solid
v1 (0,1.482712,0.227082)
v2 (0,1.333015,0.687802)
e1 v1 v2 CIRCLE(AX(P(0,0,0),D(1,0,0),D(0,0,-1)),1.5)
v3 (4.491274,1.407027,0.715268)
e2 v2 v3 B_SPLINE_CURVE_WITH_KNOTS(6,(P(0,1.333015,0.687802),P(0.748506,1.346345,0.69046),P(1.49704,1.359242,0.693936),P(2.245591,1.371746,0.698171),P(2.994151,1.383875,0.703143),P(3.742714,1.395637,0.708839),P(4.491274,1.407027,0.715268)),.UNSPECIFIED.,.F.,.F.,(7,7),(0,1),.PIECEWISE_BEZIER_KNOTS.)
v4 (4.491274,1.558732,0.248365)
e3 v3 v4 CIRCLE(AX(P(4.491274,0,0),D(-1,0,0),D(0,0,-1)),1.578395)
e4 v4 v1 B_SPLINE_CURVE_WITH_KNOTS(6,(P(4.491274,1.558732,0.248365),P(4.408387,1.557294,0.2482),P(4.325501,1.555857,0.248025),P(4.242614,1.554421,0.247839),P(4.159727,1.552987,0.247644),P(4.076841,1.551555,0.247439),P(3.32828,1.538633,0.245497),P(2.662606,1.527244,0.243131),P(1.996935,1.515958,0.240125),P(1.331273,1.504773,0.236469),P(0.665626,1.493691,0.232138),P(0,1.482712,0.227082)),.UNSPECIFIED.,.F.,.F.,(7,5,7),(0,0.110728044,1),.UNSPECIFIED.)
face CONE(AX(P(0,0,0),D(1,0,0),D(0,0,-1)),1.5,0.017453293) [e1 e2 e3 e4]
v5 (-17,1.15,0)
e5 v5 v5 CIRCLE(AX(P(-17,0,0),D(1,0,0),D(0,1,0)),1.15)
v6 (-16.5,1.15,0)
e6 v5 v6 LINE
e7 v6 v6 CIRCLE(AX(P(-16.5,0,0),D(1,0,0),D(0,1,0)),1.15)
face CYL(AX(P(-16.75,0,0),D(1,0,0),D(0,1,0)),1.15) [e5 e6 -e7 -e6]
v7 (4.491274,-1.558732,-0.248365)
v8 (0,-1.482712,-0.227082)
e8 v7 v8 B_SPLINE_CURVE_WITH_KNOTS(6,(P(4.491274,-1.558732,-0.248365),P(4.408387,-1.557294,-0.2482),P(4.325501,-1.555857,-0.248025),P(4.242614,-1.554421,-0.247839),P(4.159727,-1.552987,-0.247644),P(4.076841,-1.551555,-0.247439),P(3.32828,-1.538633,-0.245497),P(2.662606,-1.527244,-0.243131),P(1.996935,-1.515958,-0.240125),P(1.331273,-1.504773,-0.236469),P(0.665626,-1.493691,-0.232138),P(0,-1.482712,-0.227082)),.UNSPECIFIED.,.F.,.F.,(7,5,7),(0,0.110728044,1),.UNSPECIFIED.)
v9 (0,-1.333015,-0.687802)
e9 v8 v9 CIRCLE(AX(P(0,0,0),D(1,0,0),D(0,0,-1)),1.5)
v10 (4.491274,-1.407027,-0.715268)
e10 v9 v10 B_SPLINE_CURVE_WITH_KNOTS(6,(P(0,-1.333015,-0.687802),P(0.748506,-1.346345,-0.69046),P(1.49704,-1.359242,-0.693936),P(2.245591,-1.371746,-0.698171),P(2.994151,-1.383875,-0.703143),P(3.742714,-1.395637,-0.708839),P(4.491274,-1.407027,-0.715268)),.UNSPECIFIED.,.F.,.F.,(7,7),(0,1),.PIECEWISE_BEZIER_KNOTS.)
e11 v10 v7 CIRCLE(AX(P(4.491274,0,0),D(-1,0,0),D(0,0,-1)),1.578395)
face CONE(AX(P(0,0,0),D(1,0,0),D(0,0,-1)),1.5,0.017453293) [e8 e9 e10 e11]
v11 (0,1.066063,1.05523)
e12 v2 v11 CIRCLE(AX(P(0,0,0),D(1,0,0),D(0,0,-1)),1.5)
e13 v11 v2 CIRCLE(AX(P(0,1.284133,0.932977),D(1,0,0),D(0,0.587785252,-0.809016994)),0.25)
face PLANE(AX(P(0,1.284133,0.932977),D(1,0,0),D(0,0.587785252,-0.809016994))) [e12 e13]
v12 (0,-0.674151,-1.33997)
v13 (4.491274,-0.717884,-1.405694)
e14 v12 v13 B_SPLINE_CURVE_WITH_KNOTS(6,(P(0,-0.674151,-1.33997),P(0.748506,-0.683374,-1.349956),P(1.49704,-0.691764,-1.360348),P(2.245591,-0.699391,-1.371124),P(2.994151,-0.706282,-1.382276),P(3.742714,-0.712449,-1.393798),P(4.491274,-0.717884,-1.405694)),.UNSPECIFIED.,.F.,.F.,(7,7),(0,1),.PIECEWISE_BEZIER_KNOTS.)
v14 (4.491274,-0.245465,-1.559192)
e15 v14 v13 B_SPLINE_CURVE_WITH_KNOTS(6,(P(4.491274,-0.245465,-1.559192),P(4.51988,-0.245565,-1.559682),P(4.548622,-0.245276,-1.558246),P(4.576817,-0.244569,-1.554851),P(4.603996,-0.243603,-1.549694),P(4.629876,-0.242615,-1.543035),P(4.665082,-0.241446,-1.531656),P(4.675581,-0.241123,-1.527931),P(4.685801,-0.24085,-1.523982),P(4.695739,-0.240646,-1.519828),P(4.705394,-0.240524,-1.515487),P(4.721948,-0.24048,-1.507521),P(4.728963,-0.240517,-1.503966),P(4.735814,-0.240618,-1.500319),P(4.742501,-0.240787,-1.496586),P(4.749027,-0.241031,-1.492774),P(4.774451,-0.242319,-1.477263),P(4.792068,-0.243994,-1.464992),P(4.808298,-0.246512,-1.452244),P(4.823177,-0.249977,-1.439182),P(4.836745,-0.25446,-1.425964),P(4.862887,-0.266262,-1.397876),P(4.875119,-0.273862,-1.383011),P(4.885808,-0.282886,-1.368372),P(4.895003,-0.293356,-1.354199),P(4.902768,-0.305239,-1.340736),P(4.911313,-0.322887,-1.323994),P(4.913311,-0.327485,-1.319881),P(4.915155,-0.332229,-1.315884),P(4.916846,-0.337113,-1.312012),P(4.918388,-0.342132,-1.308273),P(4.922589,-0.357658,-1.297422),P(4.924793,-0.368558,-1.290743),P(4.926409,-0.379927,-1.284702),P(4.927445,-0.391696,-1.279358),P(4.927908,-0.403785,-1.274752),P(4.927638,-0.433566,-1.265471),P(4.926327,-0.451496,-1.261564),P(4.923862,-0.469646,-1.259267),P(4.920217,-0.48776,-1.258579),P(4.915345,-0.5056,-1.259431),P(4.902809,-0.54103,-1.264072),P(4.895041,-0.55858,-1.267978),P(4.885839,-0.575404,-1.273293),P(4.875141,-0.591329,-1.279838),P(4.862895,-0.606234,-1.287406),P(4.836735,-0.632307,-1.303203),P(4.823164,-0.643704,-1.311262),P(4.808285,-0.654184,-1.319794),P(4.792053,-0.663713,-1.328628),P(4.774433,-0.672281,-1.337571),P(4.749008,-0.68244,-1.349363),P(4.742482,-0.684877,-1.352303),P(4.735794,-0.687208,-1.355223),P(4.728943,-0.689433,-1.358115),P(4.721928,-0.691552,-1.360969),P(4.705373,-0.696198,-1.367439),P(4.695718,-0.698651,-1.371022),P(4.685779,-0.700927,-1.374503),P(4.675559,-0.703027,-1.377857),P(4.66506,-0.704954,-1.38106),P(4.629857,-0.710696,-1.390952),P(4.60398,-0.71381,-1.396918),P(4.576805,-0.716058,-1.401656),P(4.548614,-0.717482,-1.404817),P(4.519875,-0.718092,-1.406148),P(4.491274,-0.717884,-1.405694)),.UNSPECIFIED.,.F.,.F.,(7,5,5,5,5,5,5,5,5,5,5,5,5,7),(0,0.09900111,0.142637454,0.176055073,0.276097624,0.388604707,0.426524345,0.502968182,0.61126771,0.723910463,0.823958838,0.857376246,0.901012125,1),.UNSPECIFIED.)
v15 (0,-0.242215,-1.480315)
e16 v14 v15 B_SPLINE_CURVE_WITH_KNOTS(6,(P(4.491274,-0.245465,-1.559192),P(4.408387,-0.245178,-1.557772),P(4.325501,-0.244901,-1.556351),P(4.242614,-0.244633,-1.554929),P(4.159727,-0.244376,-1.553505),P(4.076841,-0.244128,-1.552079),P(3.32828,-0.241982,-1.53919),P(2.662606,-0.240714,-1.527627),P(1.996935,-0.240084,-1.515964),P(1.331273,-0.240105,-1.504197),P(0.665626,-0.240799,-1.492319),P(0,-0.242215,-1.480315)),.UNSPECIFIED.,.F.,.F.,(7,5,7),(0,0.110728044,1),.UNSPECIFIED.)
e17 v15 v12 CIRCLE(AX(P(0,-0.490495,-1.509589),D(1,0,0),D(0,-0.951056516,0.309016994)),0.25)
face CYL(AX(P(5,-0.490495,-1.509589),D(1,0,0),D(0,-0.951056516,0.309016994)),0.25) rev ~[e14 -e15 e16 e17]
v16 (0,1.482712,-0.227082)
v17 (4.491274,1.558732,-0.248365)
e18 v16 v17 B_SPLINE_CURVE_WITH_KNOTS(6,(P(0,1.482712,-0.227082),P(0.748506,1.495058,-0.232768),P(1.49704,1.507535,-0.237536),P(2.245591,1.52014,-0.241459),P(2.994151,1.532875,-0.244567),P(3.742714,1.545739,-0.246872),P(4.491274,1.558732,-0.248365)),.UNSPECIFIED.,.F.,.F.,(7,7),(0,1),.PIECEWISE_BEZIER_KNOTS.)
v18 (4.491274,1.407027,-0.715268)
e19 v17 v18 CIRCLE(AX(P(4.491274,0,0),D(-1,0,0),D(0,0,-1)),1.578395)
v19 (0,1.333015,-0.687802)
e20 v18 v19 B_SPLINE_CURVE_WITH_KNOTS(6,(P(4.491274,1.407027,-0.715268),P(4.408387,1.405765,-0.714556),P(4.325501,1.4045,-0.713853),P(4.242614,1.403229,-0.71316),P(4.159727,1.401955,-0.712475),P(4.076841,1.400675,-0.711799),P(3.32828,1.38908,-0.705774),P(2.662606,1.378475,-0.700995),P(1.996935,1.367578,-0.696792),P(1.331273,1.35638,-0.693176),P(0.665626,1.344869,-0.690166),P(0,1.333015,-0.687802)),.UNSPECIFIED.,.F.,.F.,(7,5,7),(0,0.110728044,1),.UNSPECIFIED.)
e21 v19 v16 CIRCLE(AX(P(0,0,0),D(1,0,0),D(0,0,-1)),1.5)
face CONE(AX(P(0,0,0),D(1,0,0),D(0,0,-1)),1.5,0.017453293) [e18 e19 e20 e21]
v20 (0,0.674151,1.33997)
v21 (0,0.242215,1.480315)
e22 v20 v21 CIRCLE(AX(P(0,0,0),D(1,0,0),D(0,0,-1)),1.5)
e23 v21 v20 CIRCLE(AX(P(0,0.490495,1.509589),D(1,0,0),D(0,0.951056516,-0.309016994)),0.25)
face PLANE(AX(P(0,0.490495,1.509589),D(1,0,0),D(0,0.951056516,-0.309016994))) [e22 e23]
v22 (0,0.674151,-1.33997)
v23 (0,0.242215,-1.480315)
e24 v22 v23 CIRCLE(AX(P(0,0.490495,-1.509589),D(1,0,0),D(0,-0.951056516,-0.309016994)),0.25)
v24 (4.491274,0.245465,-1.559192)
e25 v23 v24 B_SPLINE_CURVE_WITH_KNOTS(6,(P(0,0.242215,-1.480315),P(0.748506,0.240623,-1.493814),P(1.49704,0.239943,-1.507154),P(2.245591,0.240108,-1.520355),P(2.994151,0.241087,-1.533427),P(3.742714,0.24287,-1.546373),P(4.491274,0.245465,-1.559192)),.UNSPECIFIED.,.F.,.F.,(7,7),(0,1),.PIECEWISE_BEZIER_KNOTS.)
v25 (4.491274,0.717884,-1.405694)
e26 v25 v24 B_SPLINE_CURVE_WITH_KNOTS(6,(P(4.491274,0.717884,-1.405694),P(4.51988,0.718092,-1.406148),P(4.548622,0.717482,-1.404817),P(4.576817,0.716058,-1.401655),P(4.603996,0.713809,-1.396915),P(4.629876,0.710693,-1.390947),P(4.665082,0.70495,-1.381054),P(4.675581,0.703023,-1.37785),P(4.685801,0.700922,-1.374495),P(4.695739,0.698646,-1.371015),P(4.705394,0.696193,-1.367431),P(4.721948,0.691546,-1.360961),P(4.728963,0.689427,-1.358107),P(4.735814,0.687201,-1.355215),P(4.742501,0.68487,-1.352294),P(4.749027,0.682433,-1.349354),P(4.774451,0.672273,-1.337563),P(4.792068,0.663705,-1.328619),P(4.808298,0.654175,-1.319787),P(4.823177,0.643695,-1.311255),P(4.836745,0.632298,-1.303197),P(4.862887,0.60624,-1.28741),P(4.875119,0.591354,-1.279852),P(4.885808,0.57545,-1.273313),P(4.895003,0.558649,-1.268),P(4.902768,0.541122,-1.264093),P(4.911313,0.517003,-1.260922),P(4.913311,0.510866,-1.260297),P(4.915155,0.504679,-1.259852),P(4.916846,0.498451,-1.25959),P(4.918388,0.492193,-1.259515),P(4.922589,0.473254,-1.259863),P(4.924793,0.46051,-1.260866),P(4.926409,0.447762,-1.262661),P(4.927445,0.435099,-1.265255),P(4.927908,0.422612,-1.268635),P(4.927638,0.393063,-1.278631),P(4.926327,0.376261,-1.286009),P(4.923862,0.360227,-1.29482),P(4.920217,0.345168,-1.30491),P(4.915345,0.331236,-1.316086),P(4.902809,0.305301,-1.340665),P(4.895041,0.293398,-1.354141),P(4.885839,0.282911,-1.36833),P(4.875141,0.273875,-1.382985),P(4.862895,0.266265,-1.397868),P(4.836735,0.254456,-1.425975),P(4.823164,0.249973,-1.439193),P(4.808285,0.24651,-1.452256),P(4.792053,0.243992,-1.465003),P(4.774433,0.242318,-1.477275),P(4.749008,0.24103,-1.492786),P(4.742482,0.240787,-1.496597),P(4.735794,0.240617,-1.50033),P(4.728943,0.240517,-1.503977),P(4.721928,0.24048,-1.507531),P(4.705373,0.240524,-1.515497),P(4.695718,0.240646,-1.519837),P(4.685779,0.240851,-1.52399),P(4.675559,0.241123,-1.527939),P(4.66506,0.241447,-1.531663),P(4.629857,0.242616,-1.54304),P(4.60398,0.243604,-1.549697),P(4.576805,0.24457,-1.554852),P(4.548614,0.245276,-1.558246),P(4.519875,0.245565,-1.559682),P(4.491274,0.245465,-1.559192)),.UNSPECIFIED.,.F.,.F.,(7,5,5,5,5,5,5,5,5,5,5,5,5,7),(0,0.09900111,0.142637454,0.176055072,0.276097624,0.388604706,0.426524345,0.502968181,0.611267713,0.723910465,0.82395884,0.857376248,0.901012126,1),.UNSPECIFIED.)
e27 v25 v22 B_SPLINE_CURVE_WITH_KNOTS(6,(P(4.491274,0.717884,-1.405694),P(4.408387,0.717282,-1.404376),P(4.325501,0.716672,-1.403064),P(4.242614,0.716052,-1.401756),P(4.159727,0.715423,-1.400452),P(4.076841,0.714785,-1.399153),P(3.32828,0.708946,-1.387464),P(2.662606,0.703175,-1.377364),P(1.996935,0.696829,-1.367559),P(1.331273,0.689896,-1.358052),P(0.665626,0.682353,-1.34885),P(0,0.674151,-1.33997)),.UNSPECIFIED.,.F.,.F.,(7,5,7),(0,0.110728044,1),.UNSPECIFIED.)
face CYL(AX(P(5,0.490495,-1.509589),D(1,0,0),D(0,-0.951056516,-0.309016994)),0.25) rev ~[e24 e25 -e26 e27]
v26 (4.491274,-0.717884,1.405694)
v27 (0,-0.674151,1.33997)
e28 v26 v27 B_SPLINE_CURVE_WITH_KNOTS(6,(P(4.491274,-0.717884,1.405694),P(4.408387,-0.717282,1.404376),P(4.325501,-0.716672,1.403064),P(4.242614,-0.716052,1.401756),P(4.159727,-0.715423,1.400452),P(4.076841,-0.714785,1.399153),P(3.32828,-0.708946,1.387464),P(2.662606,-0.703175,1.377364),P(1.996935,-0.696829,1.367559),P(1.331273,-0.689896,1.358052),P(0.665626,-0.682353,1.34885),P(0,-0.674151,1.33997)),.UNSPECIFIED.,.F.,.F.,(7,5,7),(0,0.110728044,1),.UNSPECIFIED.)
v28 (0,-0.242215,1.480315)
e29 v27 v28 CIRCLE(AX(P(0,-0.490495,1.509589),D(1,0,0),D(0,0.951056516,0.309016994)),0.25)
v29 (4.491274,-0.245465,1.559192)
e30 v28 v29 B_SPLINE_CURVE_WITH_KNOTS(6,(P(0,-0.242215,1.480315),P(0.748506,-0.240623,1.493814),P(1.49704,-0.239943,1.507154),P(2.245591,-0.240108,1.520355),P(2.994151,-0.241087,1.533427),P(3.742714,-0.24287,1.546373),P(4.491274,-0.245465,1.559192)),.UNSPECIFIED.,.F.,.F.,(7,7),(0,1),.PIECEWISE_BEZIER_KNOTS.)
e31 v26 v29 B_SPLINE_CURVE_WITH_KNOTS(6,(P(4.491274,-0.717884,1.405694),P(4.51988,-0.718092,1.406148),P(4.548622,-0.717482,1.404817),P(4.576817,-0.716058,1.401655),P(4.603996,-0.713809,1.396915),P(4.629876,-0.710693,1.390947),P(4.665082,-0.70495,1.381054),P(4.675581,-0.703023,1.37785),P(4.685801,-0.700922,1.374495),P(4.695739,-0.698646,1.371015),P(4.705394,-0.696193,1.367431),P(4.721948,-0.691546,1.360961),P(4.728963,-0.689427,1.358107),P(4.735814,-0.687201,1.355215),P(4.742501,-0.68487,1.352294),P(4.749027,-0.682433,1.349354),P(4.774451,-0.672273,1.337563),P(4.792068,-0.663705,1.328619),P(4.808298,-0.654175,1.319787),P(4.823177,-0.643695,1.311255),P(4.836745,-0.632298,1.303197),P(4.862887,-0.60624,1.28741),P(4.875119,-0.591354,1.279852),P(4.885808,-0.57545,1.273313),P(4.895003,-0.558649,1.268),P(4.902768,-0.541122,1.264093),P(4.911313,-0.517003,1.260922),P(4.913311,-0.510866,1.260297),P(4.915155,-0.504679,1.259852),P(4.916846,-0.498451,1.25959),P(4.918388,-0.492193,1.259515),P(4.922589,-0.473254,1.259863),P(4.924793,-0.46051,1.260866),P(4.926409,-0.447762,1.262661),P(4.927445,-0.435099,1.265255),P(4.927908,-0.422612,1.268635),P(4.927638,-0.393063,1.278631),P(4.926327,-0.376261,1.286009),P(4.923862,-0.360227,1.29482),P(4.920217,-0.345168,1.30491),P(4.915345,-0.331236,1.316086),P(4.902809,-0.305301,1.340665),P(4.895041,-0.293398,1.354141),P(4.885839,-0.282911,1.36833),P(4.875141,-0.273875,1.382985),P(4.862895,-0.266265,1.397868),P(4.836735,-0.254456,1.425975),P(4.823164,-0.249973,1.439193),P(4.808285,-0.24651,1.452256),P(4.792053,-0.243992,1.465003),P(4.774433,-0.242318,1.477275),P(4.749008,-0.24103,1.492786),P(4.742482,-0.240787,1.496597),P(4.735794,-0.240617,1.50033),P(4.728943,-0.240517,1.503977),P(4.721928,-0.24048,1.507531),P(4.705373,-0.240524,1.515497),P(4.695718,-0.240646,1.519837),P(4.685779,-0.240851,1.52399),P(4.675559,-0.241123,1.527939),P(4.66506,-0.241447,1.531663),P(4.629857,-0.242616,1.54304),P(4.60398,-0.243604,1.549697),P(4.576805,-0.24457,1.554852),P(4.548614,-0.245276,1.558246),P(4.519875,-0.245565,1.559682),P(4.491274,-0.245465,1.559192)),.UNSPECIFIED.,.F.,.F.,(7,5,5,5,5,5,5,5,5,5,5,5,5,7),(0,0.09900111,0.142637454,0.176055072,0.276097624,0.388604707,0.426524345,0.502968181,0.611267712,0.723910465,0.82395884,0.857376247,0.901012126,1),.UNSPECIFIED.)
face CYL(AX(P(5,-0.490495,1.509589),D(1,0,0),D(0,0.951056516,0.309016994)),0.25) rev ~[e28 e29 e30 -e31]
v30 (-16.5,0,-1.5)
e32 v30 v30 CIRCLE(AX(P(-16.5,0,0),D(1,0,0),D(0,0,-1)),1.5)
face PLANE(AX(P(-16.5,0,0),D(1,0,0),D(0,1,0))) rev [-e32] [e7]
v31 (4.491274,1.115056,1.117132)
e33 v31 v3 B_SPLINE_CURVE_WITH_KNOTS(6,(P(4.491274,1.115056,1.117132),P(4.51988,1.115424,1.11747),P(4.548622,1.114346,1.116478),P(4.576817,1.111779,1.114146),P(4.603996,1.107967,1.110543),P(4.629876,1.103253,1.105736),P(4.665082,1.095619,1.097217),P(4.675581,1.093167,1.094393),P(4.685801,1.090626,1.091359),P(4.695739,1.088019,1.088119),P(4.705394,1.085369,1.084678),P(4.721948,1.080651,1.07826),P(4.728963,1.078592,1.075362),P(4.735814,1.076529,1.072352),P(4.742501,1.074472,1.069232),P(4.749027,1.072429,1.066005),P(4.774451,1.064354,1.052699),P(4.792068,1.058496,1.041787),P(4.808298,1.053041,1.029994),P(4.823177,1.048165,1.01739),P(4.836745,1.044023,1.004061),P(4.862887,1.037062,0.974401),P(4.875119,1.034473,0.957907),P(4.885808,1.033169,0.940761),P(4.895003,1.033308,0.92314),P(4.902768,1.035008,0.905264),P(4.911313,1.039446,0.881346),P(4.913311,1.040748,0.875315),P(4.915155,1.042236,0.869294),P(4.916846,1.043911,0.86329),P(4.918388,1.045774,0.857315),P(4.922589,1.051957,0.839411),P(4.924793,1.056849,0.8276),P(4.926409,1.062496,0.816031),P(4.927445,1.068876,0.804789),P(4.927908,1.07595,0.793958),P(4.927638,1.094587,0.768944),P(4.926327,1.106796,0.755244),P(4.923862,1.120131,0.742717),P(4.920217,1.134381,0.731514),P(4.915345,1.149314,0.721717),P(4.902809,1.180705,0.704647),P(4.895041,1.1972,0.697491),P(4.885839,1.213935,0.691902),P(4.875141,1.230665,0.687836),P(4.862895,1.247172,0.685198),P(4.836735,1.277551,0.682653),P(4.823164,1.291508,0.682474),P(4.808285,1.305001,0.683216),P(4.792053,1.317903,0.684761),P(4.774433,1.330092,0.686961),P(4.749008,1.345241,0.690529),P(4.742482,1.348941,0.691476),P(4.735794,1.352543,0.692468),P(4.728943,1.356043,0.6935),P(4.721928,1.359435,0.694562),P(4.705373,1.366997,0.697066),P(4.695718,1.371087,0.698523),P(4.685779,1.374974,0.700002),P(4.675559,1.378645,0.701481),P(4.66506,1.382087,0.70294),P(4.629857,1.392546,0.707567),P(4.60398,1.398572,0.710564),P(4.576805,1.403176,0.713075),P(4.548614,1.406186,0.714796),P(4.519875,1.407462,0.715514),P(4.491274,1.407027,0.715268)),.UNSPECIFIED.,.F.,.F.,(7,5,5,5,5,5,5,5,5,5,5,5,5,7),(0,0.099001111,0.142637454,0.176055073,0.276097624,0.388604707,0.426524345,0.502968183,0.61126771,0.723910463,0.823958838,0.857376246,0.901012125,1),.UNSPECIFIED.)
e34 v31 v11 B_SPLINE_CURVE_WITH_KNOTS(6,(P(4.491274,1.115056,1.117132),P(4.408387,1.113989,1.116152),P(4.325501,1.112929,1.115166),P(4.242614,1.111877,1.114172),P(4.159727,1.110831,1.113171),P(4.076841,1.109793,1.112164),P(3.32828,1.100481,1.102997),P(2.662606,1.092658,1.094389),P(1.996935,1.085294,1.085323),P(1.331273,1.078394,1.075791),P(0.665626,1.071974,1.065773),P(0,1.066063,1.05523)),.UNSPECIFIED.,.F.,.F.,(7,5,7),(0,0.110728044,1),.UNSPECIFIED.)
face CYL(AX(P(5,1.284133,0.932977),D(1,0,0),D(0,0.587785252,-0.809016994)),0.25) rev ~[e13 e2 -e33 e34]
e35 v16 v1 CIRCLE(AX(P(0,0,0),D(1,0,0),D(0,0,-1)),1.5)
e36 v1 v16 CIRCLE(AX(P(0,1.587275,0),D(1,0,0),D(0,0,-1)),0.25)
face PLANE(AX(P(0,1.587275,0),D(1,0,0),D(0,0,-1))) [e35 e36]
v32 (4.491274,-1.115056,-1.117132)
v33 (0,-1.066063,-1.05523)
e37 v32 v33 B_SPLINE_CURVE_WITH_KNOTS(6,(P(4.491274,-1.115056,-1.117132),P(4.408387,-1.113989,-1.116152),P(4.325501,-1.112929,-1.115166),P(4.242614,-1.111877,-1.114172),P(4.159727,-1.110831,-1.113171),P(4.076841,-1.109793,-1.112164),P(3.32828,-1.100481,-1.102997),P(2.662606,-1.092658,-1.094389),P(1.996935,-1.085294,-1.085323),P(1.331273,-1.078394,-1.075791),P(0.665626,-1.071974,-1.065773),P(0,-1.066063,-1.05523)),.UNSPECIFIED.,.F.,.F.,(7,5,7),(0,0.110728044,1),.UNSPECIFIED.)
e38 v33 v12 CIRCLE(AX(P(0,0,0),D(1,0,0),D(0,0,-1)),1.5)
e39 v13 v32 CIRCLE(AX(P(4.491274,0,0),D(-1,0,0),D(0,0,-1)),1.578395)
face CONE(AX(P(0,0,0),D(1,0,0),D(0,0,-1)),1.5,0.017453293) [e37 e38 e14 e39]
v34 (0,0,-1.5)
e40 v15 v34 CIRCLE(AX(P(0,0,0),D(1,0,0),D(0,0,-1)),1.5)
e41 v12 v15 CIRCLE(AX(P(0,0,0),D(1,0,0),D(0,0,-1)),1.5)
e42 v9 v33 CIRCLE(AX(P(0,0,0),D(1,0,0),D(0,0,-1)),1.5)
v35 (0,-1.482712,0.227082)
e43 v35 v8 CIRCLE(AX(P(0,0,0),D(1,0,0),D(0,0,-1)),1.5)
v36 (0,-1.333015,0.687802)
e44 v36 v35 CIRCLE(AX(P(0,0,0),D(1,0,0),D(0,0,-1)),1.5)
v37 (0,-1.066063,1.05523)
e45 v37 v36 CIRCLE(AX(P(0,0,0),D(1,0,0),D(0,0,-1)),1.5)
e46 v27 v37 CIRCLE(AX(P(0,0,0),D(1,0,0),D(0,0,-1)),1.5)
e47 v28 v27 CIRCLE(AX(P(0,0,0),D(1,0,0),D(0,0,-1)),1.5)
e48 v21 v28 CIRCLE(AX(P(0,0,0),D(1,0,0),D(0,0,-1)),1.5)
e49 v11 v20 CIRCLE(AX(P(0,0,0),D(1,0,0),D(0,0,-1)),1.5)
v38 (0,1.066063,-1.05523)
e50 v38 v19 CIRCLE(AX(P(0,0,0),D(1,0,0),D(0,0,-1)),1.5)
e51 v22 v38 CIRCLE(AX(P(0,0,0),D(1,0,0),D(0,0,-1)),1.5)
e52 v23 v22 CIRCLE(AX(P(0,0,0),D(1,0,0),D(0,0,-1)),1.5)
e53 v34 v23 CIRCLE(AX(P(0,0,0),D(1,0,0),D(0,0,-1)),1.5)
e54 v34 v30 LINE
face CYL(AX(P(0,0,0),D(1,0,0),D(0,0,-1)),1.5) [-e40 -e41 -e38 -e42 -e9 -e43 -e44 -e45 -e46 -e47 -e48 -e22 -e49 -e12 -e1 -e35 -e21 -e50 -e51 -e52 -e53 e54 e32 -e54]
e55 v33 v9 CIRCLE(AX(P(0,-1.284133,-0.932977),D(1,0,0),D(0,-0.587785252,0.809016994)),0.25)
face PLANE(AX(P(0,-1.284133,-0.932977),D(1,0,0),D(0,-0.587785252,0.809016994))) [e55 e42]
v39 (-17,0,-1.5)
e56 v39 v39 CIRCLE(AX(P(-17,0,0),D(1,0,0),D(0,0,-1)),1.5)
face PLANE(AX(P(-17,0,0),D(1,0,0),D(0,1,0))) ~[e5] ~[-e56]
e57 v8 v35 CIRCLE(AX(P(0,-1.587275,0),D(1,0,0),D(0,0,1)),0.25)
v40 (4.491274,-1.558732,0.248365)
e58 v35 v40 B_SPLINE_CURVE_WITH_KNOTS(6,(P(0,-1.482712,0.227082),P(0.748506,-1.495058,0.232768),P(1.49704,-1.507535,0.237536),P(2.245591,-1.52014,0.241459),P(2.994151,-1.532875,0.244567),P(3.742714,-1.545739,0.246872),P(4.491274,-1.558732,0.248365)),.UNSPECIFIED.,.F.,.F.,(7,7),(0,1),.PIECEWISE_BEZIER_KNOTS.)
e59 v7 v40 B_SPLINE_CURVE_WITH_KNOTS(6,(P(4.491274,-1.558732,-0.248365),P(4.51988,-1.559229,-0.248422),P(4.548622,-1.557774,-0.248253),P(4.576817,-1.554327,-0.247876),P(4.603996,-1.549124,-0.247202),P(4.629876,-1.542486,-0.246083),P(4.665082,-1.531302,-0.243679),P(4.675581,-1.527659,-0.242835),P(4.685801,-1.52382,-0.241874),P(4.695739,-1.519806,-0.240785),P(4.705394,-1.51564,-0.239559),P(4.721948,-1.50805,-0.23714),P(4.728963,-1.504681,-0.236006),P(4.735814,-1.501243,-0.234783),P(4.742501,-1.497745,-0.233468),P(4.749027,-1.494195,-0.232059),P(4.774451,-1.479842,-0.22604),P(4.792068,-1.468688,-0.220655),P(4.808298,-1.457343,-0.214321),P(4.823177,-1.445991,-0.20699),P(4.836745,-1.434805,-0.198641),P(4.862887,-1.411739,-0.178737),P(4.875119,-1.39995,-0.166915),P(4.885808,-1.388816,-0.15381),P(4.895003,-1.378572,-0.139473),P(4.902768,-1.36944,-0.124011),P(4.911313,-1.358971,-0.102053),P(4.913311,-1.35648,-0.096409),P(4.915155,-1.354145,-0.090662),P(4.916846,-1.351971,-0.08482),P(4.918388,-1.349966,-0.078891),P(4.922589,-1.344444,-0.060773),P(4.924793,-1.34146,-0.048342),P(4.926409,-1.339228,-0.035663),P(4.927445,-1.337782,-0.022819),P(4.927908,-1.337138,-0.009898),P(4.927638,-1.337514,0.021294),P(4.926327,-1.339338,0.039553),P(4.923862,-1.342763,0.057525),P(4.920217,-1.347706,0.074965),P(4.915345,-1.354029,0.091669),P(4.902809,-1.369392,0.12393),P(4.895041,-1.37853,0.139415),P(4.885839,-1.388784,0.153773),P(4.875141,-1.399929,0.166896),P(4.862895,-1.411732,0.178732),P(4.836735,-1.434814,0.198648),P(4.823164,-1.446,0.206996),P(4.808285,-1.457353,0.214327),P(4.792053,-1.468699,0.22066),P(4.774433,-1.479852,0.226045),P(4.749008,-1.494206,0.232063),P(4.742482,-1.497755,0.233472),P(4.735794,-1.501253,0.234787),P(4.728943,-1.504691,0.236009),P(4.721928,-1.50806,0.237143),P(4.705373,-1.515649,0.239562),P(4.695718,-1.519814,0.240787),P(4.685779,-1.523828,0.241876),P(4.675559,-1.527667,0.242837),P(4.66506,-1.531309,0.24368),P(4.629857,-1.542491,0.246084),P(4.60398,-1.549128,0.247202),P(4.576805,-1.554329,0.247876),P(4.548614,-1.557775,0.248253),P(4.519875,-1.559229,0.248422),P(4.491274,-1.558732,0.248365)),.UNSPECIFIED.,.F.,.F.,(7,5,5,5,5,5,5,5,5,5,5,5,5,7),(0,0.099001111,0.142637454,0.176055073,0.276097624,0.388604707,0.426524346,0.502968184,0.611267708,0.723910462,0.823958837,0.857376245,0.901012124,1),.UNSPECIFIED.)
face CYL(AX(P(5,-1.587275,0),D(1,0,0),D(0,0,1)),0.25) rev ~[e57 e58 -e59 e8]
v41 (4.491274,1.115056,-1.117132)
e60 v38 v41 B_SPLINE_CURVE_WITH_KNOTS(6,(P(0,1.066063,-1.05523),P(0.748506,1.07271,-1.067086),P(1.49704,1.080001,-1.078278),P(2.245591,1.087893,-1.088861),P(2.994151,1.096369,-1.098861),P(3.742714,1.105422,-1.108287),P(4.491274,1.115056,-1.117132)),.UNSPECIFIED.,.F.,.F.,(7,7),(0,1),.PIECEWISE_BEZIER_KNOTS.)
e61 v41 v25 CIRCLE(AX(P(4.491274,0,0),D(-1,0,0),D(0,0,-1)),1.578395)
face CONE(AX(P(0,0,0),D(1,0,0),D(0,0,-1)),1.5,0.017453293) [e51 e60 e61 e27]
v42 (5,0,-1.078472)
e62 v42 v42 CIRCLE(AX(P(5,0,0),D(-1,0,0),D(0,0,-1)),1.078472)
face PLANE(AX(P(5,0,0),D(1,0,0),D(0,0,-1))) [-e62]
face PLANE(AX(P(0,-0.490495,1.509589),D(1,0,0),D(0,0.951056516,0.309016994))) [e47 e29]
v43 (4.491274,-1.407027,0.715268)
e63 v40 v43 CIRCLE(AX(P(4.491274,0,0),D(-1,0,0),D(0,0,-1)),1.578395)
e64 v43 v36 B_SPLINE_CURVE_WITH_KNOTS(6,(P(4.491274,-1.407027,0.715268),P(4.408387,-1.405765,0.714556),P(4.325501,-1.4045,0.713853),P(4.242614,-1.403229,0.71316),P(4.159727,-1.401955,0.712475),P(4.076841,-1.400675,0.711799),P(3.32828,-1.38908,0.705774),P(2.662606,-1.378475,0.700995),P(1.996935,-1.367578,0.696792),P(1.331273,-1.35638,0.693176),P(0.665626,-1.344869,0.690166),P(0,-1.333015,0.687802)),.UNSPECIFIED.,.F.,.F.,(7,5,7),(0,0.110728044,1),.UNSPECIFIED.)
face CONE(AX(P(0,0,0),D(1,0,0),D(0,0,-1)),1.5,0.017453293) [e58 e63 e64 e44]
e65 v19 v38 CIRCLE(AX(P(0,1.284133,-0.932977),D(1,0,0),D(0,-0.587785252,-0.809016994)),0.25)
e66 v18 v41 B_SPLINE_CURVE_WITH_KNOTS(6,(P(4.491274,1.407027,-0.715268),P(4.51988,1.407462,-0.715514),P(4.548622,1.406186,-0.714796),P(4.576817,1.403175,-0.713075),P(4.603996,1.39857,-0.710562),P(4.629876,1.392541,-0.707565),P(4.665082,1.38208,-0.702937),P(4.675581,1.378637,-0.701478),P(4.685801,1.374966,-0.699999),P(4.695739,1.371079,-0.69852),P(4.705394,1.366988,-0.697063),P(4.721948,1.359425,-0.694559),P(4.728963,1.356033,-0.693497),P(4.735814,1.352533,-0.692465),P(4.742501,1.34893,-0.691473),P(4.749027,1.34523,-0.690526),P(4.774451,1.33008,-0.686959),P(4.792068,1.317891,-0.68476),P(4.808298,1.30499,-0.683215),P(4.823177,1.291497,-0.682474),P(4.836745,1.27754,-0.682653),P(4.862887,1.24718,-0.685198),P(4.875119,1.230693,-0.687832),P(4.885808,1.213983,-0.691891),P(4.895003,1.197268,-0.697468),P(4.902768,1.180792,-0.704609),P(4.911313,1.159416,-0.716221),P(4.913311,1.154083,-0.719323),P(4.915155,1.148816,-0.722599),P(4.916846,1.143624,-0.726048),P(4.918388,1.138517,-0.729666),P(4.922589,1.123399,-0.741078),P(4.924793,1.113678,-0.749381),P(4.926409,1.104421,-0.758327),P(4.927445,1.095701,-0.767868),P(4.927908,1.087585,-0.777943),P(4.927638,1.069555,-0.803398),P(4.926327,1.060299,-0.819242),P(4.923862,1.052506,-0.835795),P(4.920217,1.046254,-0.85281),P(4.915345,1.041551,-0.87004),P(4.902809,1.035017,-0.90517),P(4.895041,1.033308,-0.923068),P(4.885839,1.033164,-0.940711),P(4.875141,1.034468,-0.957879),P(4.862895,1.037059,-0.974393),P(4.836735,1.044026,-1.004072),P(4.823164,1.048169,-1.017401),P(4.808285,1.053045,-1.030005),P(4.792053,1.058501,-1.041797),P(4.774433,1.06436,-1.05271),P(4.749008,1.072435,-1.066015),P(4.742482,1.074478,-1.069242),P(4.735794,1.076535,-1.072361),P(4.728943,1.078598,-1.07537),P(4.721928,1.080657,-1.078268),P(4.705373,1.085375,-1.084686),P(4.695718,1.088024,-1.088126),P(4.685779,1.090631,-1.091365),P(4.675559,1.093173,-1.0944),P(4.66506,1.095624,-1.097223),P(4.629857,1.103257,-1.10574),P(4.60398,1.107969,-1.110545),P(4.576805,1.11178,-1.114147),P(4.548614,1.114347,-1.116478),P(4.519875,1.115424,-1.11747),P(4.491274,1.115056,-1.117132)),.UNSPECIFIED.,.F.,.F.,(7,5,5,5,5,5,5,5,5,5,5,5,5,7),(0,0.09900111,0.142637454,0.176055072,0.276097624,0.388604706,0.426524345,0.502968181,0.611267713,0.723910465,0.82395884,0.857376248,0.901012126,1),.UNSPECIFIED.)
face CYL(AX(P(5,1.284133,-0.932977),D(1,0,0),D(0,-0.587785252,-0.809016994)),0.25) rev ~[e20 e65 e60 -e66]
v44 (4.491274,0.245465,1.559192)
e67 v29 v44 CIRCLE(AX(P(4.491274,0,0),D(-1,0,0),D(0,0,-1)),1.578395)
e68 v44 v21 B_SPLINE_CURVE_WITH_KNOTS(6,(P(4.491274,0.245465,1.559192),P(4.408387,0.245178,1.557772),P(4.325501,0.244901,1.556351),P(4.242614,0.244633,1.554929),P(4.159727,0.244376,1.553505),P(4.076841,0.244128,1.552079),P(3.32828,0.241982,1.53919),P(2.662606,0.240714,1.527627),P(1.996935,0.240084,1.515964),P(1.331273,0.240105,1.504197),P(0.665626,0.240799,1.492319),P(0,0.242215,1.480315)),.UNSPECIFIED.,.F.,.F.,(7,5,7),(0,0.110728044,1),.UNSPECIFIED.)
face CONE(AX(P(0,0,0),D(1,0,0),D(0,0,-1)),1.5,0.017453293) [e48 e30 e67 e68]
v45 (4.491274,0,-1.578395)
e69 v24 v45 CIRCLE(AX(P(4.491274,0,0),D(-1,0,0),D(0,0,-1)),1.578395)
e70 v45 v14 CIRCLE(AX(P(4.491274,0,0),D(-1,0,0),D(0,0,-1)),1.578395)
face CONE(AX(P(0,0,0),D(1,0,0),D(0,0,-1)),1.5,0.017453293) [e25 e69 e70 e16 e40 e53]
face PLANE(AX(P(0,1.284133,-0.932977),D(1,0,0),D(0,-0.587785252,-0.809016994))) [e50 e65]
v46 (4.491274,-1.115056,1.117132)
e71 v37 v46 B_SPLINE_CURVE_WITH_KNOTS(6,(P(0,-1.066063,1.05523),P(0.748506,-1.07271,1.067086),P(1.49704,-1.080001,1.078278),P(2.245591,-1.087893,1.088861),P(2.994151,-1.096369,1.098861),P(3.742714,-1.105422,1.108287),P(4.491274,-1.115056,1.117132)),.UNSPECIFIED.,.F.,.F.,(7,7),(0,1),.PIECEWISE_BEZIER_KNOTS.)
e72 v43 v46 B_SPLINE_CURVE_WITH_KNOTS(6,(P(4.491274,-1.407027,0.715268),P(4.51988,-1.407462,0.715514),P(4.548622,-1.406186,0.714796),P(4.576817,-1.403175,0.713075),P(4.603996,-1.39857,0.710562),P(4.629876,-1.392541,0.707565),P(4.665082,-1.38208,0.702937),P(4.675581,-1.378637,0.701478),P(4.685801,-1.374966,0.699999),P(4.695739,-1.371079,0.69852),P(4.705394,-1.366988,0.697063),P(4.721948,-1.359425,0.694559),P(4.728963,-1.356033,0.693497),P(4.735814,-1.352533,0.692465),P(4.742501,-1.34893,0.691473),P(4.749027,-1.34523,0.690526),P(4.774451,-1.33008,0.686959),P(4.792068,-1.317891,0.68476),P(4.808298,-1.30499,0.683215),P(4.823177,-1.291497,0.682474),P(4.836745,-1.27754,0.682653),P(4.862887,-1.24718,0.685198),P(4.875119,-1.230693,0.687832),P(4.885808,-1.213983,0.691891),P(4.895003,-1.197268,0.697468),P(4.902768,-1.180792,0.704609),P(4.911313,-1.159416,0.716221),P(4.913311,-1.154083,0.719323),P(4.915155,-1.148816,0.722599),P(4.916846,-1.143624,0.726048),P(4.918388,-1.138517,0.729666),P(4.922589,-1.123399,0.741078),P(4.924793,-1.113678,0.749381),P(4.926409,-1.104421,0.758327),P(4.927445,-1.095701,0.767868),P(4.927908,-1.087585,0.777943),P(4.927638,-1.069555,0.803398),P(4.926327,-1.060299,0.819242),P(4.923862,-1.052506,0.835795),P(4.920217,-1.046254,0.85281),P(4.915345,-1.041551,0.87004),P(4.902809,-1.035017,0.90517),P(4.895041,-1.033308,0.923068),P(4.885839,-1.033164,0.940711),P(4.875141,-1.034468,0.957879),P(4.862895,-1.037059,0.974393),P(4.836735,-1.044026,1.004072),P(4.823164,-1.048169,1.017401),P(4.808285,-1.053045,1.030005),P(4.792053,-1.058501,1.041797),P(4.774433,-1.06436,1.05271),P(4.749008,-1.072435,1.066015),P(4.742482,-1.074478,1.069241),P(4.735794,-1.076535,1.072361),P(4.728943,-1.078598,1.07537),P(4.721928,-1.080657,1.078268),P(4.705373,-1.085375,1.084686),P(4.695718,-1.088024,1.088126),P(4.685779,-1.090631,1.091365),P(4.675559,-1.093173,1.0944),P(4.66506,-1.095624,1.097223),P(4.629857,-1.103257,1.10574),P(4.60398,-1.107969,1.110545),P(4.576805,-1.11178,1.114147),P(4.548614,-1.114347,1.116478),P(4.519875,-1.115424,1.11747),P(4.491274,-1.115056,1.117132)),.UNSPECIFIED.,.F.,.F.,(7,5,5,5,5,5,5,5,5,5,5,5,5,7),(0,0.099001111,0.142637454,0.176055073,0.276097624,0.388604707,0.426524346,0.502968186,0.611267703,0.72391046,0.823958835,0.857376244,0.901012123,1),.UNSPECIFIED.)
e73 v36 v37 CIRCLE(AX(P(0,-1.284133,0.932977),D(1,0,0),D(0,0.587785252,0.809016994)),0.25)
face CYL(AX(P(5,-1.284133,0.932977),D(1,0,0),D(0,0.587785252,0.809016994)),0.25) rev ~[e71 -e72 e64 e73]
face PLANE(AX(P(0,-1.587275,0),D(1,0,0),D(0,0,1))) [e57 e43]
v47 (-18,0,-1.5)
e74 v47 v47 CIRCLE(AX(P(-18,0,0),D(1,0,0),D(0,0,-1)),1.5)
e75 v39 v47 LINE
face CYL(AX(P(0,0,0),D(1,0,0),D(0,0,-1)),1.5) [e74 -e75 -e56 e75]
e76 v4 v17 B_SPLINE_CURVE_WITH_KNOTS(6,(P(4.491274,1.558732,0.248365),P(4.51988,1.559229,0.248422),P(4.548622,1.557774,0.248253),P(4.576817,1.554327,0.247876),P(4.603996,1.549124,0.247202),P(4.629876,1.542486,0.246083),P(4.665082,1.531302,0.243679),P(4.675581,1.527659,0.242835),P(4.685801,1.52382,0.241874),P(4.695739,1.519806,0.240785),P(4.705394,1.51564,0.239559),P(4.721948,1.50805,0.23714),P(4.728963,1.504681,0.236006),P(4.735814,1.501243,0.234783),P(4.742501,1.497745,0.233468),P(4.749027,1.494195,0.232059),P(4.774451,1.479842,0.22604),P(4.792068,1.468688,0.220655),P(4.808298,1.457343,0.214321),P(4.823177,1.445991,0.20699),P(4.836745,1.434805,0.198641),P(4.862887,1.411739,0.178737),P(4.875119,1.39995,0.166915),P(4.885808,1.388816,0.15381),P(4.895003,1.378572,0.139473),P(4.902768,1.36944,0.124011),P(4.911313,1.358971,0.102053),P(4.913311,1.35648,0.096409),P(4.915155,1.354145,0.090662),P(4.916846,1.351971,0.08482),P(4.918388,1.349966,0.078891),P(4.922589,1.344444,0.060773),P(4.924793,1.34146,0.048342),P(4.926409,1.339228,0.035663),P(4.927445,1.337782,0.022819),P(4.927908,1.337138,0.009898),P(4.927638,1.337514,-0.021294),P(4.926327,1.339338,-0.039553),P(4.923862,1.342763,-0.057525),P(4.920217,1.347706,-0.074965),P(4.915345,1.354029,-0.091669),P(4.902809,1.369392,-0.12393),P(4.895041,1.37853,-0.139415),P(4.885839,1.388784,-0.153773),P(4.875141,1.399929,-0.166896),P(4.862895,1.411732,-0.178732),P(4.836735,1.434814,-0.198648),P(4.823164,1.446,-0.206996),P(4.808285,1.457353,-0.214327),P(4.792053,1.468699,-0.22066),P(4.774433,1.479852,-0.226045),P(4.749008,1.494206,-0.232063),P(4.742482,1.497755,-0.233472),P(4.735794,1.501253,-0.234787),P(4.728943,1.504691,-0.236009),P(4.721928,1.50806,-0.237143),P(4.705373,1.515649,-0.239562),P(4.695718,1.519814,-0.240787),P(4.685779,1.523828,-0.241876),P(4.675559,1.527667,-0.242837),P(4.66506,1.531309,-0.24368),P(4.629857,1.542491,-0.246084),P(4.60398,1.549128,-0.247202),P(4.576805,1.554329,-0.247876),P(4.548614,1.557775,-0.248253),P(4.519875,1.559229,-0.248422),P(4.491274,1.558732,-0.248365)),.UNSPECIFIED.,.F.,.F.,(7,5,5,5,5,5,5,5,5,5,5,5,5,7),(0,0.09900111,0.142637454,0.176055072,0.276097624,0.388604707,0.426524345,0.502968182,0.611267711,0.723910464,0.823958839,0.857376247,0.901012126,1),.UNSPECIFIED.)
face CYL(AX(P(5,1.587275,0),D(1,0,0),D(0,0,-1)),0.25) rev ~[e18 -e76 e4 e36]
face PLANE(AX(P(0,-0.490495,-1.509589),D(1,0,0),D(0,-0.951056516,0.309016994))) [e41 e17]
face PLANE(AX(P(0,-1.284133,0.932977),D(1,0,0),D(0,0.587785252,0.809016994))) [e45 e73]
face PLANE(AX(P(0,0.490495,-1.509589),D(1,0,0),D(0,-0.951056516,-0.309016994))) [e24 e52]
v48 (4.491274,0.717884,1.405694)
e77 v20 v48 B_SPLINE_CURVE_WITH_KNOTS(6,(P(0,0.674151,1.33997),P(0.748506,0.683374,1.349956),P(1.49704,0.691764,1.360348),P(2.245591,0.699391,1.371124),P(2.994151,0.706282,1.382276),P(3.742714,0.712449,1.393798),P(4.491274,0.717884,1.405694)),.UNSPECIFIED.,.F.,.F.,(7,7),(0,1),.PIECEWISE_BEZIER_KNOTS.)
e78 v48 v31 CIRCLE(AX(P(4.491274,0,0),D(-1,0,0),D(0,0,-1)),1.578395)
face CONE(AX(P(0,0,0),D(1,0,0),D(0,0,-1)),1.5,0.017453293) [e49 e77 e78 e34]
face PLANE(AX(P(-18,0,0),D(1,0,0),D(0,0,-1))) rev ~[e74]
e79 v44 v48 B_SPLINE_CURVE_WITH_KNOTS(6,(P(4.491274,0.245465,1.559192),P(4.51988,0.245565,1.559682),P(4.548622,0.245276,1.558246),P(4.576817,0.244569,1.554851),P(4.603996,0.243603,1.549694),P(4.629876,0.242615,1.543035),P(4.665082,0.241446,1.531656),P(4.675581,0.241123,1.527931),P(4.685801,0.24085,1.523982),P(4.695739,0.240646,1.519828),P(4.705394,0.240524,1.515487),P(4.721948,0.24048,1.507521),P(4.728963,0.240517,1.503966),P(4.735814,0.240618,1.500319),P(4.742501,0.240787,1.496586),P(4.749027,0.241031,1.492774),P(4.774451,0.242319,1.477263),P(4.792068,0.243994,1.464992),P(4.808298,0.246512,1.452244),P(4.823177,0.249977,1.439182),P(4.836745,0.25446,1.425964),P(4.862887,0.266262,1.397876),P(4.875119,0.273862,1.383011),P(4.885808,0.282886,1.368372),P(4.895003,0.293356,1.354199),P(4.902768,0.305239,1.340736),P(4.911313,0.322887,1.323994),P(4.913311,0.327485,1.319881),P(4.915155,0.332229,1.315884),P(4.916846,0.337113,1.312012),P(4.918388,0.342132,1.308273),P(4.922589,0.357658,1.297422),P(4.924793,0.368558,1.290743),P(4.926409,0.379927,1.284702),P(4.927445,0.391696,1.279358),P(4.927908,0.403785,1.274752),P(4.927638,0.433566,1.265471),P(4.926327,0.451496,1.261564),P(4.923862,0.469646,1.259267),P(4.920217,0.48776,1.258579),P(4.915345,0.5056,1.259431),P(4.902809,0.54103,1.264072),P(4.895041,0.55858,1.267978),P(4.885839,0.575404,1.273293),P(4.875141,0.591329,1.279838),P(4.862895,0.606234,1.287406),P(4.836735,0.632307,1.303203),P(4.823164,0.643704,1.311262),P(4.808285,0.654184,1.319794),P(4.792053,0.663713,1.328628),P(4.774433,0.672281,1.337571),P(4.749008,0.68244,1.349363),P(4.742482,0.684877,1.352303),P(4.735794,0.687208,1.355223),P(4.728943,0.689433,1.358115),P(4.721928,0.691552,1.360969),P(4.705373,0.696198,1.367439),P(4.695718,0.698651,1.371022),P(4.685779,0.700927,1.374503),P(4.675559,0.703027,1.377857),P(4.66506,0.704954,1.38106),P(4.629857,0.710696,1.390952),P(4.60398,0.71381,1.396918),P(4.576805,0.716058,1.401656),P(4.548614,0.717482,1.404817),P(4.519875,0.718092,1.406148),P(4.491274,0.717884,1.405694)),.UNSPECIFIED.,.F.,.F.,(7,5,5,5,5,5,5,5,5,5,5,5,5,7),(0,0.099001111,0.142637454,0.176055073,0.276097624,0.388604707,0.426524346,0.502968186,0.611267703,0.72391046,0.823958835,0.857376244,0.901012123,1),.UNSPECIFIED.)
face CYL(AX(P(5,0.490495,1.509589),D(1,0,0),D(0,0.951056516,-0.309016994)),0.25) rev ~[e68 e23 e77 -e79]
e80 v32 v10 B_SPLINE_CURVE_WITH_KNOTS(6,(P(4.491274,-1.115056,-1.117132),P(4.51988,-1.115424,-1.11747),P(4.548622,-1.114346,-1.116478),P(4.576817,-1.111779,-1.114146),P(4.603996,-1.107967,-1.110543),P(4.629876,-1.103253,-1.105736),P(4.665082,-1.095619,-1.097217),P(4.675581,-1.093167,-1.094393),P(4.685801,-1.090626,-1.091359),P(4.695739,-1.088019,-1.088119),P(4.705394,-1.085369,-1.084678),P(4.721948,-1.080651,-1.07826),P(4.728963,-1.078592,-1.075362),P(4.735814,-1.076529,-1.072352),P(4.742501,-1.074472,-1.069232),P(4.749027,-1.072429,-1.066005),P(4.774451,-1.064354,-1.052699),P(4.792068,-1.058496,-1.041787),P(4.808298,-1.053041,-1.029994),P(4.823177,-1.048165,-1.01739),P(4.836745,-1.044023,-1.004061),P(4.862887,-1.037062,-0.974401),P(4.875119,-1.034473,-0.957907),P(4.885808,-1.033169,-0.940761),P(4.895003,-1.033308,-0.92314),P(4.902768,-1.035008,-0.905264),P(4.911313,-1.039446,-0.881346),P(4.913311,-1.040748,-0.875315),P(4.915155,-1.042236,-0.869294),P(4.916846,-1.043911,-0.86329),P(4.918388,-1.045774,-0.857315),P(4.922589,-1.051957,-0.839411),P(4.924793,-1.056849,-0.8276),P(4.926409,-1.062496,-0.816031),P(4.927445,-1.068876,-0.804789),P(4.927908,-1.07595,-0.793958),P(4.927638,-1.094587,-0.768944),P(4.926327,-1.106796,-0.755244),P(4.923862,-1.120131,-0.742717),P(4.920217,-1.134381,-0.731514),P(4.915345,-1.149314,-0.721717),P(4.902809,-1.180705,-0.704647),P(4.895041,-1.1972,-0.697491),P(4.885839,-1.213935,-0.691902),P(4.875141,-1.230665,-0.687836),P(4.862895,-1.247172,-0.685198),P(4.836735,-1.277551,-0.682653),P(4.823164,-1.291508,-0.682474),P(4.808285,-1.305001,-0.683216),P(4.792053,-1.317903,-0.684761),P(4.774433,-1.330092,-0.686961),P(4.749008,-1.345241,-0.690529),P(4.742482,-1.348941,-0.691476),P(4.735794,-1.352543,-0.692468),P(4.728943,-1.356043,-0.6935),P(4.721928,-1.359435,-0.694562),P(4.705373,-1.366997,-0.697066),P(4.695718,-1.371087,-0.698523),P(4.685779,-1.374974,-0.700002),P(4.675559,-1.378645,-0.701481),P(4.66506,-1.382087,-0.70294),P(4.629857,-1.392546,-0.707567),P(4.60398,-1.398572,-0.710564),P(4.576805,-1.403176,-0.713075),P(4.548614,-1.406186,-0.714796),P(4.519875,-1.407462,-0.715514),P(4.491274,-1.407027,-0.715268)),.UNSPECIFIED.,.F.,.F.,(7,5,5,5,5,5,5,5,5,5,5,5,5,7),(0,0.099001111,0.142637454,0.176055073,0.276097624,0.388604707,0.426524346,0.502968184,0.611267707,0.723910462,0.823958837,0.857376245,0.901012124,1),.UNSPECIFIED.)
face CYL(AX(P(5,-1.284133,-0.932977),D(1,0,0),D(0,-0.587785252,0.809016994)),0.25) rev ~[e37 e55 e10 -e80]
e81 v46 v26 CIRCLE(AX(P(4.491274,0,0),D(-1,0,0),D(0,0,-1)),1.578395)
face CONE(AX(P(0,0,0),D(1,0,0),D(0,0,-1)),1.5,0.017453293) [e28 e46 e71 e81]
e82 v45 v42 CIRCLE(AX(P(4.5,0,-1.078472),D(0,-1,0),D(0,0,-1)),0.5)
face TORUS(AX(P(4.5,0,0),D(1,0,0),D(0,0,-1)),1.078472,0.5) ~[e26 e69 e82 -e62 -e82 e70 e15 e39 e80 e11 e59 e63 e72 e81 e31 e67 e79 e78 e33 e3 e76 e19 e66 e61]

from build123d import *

# Parameters (mm, degrees)
SKETCH1_R                = 1.5
EXTRUDE1_DEPTH           = 18
EXTRUDE1_OTHER_WAY_DEPTH = 5
EXTRUDE1_OTHER_WAY_TAPER = -1
FILLET1_R                = 0.5
SKETCH2_R                = 0.25
CUT_EXTRUDE1_DEPTH       = 5
CIRPATTERN1_COUNT        = 10
SKETCH3_W                = 0.5
SKETCH3_H                = 0.930924855


with BuildPart() as part:
    # Sketch1 → Extrude1 (new body)
    with BuildSketch(Plane(origin=(0, 0, 0), x_dir=(0, 0, -1), z_dir=(1, 0, 0))):
        Circle(SKETCH1_R)
    extrude(amount=-EXTRUDE1_DEPTH)

    # Sketch1 → Extrude1 other way (add)
    with BuildSketch(Plane(origin=(0, 0, 0), x_dir=(0, 0, -1), z_dir=(1, 0, 0))):
        Circle(SKETCH1_R)
    extrude(amount=EXTRUDE1_OTHER_WAY_DEPTH, taper=EXTRUDE1_OTHER_WAY_TAPER)

    # Fillet1
    fillet1_edges = [part.edges().sort_by_distance(p)[0] for p in [
        (5, 0, 1.587275325),
    ]]
    fillet(fillet1_edges, radius=FILLET1_R)

    # Sketch2 → Cut-Extrude1 (cut)
    with BuildSketch(Plane(origin=(5, 0, 0), x_dir=(0, 0, -1), z_dir=(1, 0, 0))):
        with Locations((0, 1.587275325)):
            Circle(SKETCH2_R)
    cut_extrude1 = extrude(amount=-CUT_EXTRUDE1_DEPTH, mode=Mode.SUBTRACT)

    # CirPattern1: Cut-Extrude1 ×10 about axis
    cirpattern1_axis = Axis((0, 0, 0), (1, 0, 0))
    for i in range(1, CIRPATTERN1_COUNT):
        add(cut_extrude1.rotate(cirpattern1_axis, i * 360 / CIRPATTERN1_COUNT), mode=Mode.SUBTRACT)

    # Sketch3 → Cut-Revolve2 (revolve, cut)
    with BuildSketch(Plane.XY):
        with Locations((-16.75, 1.615462428)):
            Rectangle(SKETCH3_W, SKETCH3_H)
    revolve(axis=Axis((-18, 0, 0), (1, 0, 0)), mode=Mode.SUBTRACT)


solid = part.part
